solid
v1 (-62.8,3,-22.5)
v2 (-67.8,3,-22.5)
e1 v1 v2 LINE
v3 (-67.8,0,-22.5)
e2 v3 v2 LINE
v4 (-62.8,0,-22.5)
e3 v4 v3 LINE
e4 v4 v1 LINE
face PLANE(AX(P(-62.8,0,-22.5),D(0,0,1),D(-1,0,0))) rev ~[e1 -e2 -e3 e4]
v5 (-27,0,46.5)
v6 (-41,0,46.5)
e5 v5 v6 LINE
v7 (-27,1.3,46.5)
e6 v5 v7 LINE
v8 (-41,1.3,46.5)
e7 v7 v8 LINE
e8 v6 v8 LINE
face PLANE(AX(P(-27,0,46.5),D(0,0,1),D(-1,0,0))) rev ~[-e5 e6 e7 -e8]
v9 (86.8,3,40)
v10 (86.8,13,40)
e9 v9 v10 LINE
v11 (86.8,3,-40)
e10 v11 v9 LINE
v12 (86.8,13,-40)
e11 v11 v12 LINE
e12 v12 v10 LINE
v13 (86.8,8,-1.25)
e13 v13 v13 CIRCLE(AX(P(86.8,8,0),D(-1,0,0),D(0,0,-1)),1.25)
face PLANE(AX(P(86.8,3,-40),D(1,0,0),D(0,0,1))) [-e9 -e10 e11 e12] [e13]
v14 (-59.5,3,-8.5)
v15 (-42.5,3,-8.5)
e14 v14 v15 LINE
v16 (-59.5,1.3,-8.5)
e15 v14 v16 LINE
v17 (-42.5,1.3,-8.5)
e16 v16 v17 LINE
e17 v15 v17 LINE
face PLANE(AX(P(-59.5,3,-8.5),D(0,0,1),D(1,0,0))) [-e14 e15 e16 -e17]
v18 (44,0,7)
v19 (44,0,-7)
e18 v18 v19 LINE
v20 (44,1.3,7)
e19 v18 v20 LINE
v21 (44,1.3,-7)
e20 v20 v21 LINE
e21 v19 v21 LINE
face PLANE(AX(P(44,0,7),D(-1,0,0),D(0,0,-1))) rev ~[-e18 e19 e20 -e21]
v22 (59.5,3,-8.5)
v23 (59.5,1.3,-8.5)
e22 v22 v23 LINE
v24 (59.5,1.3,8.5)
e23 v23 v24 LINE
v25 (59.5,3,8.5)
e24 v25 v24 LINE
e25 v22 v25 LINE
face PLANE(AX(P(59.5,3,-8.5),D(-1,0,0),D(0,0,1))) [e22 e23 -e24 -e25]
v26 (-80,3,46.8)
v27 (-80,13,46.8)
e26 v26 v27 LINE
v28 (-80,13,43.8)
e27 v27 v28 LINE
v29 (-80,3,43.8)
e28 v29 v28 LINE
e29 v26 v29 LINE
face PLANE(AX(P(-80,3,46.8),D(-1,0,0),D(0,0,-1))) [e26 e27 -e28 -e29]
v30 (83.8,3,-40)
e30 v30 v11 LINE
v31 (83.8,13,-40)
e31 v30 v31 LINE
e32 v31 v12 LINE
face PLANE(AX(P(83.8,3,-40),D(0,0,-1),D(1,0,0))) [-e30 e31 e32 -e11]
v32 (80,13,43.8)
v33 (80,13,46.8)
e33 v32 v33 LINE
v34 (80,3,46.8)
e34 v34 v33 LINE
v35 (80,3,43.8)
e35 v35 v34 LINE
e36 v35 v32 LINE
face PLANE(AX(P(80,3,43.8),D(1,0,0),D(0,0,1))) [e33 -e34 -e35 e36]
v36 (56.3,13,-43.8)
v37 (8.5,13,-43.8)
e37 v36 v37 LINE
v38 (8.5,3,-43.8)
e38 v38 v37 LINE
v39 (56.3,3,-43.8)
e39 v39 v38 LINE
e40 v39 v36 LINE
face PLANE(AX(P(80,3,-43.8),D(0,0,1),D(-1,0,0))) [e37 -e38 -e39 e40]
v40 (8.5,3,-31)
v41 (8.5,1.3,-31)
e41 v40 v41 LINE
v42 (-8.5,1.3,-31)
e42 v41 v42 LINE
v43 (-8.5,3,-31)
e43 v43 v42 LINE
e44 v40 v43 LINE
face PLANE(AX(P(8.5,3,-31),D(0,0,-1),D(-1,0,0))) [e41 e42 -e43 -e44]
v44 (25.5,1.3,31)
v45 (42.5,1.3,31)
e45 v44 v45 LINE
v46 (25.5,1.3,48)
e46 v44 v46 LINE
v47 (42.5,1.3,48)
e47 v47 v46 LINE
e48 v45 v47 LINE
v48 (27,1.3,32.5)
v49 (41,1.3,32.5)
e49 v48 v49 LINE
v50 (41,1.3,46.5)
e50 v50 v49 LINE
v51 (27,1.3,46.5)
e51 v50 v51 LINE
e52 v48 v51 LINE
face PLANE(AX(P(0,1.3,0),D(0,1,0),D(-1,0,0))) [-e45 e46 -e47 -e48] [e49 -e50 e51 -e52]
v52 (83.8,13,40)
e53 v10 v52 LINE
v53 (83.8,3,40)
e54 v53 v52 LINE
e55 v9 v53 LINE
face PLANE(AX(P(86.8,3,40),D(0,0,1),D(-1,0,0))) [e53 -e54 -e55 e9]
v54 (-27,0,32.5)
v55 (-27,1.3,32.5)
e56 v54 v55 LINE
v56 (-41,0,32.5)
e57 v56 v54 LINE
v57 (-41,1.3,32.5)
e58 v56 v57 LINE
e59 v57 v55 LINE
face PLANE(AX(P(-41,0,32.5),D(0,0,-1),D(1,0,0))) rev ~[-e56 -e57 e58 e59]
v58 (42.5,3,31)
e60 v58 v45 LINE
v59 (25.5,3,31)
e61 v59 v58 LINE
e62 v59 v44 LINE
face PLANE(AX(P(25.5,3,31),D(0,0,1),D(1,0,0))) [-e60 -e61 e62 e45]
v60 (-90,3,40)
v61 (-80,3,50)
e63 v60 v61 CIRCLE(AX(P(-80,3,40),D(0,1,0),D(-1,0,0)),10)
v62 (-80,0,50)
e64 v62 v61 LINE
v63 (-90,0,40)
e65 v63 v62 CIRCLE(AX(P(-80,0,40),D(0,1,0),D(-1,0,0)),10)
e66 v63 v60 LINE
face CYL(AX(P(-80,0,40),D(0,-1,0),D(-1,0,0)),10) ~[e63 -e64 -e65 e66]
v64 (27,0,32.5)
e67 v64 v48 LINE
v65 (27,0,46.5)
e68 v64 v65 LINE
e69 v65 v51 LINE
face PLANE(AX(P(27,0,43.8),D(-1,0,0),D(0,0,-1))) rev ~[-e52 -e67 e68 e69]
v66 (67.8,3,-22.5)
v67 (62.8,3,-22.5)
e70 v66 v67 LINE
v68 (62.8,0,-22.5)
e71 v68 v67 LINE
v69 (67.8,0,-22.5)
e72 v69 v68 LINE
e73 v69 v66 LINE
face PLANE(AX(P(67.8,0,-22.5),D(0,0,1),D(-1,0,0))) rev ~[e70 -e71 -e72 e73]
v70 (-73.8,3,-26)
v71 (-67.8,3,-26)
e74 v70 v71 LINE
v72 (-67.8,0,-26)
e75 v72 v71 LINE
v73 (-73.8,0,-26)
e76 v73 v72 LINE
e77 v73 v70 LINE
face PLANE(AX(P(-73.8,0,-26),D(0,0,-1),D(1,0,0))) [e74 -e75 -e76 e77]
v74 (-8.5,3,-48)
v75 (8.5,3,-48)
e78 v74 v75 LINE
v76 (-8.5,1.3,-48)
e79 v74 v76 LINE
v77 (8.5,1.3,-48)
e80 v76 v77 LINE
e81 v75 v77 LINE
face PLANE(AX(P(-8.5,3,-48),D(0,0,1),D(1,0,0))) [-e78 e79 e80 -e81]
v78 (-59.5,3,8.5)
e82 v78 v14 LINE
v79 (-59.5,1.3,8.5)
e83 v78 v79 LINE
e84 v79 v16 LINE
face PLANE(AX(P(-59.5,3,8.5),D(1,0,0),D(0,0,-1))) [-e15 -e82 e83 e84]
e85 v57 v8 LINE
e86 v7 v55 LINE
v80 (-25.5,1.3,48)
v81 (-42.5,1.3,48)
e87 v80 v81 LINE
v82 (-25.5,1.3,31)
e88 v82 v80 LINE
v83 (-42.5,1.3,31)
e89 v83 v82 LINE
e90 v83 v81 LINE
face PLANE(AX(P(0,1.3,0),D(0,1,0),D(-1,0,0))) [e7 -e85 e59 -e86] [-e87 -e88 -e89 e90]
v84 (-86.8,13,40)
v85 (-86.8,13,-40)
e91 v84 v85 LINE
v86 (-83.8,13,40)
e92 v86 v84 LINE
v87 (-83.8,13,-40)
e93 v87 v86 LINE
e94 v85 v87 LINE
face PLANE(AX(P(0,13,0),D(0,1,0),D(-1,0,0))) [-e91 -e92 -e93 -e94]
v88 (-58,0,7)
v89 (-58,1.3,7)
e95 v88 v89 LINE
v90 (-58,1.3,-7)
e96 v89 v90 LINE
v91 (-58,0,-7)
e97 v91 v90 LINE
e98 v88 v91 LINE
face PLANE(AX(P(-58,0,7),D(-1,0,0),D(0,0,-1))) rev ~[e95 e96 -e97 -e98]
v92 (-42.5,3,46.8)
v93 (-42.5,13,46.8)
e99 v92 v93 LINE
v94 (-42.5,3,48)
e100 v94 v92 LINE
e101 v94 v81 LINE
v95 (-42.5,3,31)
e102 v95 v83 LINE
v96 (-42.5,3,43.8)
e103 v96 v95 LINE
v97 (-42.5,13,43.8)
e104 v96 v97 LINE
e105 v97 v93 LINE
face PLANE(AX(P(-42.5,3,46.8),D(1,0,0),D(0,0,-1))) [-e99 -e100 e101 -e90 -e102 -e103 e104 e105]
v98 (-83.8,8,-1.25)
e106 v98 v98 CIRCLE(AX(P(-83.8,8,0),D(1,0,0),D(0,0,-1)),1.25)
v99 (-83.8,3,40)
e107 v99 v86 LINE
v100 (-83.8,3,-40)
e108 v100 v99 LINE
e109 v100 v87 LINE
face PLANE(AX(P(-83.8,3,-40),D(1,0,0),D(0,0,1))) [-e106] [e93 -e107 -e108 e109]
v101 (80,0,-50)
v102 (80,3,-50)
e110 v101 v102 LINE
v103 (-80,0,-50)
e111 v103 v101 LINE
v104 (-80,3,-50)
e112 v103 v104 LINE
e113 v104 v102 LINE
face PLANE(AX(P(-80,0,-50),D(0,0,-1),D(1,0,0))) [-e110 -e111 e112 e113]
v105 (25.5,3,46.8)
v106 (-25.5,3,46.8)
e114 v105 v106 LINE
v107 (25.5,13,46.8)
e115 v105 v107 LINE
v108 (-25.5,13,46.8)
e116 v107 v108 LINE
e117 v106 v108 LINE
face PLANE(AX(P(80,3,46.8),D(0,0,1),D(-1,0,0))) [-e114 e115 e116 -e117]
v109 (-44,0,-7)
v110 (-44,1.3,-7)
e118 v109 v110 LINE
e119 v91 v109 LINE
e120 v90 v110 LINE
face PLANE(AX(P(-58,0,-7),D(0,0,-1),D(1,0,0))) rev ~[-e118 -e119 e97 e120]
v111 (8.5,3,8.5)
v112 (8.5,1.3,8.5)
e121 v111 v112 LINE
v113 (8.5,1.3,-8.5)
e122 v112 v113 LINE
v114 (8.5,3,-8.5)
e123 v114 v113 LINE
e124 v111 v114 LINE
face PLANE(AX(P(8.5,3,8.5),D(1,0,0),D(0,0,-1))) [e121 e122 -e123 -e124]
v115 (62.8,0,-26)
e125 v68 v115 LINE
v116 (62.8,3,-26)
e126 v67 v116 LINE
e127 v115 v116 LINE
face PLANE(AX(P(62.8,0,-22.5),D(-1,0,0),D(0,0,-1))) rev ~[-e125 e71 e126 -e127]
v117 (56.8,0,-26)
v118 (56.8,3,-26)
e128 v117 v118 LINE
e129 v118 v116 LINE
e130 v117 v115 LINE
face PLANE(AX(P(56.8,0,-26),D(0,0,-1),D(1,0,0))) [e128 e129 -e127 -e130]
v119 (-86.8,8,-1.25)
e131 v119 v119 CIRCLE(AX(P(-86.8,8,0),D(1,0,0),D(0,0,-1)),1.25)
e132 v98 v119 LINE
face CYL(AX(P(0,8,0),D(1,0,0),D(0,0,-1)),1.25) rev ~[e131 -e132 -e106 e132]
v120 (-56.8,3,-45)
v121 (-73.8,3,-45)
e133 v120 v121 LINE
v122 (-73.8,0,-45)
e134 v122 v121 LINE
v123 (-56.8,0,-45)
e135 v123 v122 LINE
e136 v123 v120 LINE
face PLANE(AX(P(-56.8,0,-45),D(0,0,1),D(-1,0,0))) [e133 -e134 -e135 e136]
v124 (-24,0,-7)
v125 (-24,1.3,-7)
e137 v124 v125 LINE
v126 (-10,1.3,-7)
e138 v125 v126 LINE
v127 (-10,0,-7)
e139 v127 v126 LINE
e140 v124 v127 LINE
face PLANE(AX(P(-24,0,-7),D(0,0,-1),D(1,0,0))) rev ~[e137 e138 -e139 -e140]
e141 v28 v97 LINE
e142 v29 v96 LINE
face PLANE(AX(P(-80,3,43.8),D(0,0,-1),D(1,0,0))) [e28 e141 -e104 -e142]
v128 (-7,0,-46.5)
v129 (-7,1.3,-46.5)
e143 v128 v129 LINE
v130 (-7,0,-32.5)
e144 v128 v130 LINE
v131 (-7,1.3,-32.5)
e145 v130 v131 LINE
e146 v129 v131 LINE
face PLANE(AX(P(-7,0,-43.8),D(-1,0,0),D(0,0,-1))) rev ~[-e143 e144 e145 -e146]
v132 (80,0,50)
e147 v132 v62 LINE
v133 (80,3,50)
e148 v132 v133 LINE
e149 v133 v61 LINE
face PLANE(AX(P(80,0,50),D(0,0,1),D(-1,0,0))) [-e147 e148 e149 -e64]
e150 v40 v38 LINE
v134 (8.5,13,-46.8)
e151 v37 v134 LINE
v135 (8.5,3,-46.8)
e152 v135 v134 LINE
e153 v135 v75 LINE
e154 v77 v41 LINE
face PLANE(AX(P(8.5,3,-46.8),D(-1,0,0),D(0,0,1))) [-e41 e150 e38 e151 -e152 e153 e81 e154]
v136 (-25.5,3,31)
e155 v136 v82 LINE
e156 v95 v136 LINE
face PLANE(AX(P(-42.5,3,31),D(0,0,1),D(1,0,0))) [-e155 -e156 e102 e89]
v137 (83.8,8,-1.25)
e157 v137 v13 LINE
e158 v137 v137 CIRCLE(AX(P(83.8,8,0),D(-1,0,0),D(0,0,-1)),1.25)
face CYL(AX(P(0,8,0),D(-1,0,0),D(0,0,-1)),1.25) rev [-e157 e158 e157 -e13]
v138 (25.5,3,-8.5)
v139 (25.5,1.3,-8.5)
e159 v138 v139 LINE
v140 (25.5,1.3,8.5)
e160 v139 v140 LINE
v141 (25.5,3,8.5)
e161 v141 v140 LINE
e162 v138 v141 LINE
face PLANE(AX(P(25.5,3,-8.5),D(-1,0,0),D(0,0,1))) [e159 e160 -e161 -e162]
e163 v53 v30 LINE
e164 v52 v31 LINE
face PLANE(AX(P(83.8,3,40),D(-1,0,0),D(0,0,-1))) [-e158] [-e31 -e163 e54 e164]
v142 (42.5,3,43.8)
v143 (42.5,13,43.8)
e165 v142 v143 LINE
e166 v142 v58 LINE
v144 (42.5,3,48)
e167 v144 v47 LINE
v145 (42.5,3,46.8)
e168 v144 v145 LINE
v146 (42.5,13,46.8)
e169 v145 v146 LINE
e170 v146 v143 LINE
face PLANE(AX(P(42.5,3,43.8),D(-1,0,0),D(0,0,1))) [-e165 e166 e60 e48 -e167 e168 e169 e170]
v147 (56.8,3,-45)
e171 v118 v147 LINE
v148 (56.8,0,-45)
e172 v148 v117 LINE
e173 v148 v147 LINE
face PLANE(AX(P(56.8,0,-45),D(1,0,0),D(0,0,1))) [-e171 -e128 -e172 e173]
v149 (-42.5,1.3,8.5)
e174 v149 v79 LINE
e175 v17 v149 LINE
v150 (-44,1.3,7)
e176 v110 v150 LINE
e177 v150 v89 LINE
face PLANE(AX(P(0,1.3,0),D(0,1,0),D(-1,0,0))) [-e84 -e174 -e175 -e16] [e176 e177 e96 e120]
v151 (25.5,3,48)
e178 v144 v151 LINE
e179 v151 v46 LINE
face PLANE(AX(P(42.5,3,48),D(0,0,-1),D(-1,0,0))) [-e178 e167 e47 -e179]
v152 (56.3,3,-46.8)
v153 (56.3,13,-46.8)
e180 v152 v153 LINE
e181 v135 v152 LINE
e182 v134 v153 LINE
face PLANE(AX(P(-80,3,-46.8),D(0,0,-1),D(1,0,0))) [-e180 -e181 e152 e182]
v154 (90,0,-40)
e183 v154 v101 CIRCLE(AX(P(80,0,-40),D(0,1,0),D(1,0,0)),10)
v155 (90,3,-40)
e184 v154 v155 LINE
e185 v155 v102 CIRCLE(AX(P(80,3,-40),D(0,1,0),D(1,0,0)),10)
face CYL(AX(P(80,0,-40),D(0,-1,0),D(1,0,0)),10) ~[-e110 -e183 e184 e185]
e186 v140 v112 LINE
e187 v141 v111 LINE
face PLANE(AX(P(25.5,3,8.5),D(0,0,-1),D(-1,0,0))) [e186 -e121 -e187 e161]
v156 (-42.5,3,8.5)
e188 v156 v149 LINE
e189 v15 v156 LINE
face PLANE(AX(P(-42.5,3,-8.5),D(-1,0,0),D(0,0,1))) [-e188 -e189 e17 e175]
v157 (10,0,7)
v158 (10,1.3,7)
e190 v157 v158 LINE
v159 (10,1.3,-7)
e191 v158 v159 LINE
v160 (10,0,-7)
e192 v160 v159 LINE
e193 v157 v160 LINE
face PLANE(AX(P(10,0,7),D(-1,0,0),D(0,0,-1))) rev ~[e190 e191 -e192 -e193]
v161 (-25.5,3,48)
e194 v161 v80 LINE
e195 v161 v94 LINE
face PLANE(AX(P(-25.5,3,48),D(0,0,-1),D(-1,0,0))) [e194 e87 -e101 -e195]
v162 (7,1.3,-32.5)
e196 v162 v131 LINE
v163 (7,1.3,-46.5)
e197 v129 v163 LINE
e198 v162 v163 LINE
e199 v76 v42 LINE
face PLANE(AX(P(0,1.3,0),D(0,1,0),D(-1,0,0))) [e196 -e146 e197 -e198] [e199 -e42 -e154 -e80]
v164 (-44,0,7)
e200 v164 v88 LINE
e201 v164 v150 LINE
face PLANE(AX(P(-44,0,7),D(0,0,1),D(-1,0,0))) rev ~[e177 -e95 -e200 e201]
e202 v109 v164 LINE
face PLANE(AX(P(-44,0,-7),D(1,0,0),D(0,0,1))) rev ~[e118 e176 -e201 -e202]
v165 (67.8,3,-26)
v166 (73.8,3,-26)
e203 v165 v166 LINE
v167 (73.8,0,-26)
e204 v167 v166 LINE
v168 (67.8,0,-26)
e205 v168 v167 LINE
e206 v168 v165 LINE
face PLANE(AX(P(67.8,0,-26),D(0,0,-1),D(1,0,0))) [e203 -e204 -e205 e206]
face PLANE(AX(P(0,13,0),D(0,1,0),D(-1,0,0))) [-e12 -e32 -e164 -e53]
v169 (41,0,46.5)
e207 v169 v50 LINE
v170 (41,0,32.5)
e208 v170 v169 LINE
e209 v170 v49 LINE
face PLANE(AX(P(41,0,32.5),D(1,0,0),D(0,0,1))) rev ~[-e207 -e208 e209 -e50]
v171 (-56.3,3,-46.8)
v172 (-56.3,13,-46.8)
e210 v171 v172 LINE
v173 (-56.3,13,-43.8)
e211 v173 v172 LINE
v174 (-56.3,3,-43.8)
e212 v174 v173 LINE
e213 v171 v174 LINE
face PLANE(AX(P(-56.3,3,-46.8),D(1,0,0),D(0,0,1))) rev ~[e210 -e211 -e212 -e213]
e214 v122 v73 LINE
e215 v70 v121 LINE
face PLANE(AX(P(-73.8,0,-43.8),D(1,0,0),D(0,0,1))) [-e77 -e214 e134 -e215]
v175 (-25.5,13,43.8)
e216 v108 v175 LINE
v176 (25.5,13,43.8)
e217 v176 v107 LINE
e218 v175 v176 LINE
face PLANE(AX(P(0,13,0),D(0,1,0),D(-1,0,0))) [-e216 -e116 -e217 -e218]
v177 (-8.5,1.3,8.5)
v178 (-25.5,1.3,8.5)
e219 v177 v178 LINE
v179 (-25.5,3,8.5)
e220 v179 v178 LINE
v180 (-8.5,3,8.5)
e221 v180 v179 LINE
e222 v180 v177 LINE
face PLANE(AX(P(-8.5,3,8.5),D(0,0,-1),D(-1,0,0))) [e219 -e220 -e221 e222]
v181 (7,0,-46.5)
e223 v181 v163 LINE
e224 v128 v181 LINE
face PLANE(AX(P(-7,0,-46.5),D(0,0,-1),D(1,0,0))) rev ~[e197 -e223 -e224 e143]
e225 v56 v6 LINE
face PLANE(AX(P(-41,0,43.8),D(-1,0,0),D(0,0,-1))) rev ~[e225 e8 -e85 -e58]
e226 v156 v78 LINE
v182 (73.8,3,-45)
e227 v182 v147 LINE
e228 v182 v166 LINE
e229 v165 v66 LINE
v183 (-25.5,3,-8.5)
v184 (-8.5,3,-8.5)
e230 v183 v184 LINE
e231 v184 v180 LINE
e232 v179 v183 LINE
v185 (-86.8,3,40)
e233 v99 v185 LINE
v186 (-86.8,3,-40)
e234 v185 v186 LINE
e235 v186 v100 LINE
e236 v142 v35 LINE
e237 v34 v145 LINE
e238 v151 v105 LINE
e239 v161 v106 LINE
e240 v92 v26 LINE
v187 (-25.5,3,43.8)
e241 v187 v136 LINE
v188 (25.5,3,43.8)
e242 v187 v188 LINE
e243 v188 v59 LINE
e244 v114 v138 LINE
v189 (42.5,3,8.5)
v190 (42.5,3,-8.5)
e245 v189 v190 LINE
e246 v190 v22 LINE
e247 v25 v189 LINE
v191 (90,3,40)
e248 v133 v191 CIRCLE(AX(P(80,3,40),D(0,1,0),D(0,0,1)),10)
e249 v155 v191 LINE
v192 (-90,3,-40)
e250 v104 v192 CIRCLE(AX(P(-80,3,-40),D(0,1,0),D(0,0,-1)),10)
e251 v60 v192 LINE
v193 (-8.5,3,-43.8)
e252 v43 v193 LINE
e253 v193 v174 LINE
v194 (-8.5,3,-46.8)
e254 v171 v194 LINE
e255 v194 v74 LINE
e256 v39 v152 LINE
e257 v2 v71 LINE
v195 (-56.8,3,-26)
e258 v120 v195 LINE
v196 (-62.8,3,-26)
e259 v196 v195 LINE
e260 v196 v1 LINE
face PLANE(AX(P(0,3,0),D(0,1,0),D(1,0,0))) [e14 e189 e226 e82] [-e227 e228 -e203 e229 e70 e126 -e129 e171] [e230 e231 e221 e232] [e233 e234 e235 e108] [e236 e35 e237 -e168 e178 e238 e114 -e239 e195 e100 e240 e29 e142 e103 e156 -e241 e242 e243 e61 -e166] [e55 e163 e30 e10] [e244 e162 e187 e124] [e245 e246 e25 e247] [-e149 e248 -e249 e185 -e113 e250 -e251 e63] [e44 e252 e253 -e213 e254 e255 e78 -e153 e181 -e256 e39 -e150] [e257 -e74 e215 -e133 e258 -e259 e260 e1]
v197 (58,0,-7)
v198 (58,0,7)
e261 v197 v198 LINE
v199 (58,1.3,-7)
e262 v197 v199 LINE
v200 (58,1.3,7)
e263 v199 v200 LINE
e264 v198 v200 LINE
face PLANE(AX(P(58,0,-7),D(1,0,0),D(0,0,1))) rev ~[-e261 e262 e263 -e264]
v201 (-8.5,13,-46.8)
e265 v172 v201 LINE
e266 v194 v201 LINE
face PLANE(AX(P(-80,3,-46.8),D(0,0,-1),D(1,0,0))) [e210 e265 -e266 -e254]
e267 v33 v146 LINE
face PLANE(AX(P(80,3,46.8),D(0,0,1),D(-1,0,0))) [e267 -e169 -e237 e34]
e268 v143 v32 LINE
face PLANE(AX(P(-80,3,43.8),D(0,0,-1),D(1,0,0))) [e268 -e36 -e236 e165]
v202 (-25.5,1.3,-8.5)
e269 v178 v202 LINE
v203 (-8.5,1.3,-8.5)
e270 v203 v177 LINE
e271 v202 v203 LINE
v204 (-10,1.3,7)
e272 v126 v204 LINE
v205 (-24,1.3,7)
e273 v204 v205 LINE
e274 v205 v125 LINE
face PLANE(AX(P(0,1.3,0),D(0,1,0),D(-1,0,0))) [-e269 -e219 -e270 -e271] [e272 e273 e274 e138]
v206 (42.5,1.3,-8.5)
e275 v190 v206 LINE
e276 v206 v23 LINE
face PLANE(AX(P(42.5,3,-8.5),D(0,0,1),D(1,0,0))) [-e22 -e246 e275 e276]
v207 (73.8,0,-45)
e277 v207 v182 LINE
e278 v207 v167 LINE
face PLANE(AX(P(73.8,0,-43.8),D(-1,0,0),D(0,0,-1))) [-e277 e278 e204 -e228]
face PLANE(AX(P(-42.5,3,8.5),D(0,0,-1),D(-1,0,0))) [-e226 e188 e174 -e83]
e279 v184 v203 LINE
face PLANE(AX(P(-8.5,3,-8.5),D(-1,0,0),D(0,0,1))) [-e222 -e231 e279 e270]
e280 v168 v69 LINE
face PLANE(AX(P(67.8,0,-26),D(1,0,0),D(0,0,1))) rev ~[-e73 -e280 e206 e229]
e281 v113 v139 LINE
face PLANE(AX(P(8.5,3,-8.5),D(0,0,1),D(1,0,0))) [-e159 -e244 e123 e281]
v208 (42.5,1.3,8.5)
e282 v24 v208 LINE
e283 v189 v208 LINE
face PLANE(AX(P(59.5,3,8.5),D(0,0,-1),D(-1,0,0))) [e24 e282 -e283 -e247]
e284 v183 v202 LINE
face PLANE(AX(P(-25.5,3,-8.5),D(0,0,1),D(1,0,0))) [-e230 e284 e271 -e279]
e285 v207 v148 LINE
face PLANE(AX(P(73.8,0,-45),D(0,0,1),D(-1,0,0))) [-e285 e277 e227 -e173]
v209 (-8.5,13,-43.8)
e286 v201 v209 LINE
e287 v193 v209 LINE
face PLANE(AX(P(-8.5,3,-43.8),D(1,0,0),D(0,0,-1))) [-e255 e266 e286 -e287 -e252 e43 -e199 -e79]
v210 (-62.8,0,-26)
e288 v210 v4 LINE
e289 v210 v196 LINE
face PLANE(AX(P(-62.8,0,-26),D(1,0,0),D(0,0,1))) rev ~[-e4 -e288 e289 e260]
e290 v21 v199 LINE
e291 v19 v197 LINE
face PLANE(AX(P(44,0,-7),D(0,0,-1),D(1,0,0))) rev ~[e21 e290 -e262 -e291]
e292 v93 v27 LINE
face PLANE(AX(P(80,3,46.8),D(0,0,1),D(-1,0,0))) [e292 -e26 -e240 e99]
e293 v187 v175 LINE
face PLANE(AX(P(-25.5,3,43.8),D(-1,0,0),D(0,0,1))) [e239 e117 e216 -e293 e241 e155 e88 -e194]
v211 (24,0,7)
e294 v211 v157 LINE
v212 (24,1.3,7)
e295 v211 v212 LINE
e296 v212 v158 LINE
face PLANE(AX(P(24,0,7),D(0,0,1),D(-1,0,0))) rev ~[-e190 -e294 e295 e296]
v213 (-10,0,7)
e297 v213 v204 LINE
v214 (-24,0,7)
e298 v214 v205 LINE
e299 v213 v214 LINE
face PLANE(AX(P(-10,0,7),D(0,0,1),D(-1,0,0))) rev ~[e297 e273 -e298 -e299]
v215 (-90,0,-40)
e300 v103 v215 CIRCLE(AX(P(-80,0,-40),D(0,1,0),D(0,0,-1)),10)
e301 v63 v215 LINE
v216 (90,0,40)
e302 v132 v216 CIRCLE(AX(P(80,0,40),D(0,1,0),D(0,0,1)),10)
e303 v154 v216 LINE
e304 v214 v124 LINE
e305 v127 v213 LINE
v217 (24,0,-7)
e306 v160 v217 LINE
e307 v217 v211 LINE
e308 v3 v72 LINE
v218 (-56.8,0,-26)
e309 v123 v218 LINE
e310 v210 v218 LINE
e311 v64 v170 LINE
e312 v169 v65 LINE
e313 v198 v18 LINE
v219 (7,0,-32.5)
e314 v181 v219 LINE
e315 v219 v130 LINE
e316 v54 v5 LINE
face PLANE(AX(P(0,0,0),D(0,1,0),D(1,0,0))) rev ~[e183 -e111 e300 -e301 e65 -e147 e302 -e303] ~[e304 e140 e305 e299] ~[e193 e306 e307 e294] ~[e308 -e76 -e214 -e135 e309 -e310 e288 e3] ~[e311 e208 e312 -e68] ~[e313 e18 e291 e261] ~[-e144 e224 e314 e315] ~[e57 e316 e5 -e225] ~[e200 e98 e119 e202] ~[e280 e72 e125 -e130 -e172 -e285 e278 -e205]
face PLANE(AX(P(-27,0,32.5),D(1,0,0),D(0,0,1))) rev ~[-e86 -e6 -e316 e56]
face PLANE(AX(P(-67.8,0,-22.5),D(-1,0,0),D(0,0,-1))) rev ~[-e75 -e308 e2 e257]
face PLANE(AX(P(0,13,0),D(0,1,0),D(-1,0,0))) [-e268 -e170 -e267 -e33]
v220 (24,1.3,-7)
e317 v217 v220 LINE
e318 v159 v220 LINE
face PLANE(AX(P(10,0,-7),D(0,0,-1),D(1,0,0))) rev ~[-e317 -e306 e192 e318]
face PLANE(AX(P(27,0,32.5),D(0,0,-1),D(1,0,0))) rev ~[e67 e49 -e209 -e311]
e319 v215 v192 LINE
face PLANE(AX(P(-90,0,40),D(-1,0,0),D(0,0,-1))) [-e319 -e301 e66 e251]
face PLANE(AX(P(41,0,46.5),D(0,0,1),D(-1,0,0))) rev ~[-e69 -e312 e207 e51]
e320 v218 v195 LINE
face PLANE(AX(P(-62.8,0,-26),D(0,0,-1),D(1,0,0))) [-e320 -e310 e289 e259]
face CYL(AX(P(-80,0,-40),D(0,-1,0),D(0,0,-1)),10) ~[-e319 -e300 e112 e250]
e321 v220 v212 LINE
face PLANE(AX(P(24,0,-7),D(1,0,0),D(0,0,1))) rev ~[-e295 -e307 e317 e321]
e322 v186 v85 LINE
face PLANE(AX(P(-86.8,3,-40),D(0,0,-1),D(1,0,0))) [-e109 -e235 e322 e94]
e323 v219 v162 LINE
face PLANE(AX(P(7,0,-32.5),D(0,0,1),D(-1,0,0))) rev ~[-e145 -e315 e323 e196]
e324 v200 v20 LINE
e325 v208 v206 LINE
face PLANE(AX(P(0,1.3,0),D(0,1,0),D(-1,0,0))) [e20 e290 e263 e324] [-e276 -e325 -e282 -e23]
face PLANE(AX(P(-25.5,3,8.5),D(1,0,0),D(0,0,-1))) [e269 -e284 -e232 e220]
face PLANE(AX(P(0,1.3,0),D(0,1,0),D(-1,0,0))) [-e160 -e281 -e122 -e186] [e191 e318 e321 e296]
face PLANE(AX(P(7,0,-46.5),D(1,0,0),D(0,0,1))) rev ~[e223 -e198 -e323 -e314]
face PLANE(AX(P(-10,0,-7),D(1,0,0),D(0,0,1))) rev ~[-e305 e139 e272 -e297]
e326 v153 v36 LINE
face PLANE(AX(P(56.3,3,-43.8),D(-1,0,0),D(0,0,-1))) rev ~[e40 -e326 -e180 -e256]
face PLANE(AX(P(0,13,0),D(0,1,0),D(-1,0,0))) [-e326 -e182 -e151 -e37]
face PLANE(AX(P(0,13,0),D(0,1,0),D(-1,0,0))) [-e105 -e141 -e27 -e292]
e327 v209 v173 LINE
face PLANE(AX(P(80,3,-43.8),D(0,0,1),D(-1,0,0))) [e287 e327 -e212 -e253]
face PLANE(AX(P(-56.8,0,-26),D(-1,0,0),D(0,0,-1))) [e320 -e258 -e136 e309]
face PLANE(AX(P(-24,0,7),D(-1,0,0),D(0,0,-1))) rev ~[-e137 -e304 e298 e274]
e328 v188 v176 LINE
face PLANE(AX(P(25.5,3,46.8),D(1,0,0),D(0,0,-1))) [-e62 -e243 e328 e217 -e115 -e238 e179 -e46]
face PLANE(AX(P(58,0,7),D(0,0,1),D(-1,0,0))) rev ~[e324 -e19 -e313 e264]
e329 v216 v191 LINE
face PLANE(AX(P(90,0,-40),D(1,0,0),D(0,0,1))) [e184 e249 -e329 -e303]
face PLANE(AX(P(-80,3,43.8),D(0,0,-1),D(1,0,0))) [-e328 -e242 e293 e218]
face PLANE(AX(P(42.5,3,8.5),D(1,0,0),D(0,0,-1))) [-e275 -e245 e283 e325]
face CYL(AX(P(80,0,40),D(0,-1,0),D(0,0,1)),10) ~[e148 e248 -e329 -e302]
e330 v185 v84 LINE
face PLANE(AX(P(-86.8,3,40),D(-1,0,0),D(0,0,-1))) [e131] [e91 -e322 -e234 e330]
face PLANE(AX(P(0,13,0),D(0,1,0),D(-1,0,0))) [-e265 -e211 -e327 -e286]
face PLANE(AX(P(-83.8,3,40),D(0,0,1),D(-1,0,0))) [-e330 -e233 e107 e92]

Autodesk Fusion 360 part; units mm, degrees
sketch "Top" plane through (0, 0, 0) normal (0, 1, 0) x (1, 0, 0)
  line L0 (-80, 50) -> (80, 50)
  line L1 (90, 40) -> (90, -40)
  line L2 (80, -50) -> (-80, -50)
  line L3 (-90, -40) -> (-90, 40)
  line L4 (-90, 50) -> (90, -50) construction
  line L5 (90, 50) -> (-90, -50) construction
  arc A0 (-80, 50) -> (-90, 40) centre (-80, 40) ccw
  arc A1 (90, 40) -> (80, 50) centre (80, 40) ccw
  arc A2 (80, -50) -> (90, -40) centre (80, -40) ccw
  arc A3 (-90, -40) -> (-80, -50) centre (-80, -40) ccw
  dimension "d310" = 180
  dimension "d311" = 100
  dimension "d312" = 10
extrude "Top Extrusion" add sketch "Top" along normal blind 3
sketch "Tabs" plane through (0, 3, 0) normal (0, 1, 0) x (-1, 0, 0)
  arc A0 (80, -50) -> (90, -40) centre (80, -40) ccw
  line L0 (90, -40) -> (90, 40)
  arc A1 (90, 40) -> (80, 50) centre (80, 40) ccw
  line L1 (80, 50) -> (-80, 50)
  arc A2 (-80, 50) -> (-90, 40) centre (-80, 40) ccw
  line L2 (-90, 40) -> (-90, -40)
  arc A3 (-90, -40) -> (-80, -50) centre (-80, -40) ccw
  line L3 (-80, -50) -> (80, -50)
  line L4 (86.8, -40) -> (83.8, -40)
  line L5 (83.8, -40) -> (83.8, 40)
  line L6 (83.8, 40) -> (86.8, 40)
  line L7 (86.8, 40) -> (86.8, -40)
  line L8 (86.8, -40) -> (83.8, 40) construction
  line L9 (83.8, -40) -> (86.8, 40) construction
  line L10 (80, -46.8) -> (-80, -46.8)
  line L11 (-80, -46.8) -> (-80, -43.8)
  line L12 (-80, -43.8) -> (80, -43.8)
  line L13 (80, -43.8) -> (80, -46.8)
  line L14 (80, -46.8) -> (-80, -43.8) construction
  line L15 (-80, -46.8) -> (80, -43.8) construction
  line L16 (80, 43.8) -> (-80, 43.8)
  line L17 (-80, 43.8) -> (-80, 46.8)
  line L18 (-80, 46.8) -> (80, 46.8)
  line L19 (80, 46.8) -> (80, 43.8)
  line L20 (80, 43.8) -> (-80, 46.8) construction
  line L21 (-80, 43.8) -> (80, 46.8) construction
  line L22 (-83.8, -40) -> (-86.8, -40)
  line L23 (-86.8, -40) -> (-86.8, 40)
  line L24 (-86.8, 40) -> (-83.8, 40)
  line L25 (-83.8, 40) -> (-83.8, -40)
  line L26 (-83.8, -40) -> (-86.8, 40) construction
  line L27 (-86.8, -40) -> (-83.8, 40) construction
  point P0 (85.3, 0)
  point P1 (0, -45.3)
  point P2 (0, 45.3)
  point P3 (-85.3, 0)
  dimension "d315" = 3
  dimension "d316" = 10
  dimension "d317" = 10
  dimension "d318" = 3.2
  dimension "d319" = 3
  dimension "d320" = 10
  dimension "d321" = 10
  dimension "d322" = 3.2
  dimension "d324" = 3
  dimension "d325" = 10
  dimension "d326" = 10
  dimension "d327" = 3
  dimension "d329" = 10
  dimension "d330" = 10
  dimension "d333" = 3.2
  dimension "d334" = 3.2
extrude "Tabs Extrusion" add sketch "Tabs" along normal blind 10 contours L4 L5 L6 L7 | L10 L11 L12 L13 | L16 L17 L18 L19 | L22 L23 L24 L25
sketch "Switches" plane through (0, 3, 0) normal (0, 1, 0) x (-1, 0, 0)
  line L0 (86.8, 40) -> (86.8, -40)
  line L1 (86.8, -40) -> (83.8, -40)
  line L2 (83.8, -40) -> (83.8, 40)
  line L3 (83.8, 40) -> (86.8, 40)
  line L4 (80, -43.8) -> (80, -46.8)
  line L5 (80, -46.8) -> (-80, -46.8)
  line L6 (-80, -46.8) -> (-80, -43.8)
  line L7 (-80, -43.8) -> (80, -43.8)
  line L8 (80, 46.8) -> (80, 43.8)
  line L9 (80, 43.8) -> (-80, 43.8)
  line L10 (-80, 43.8) -> (-80, 46.8)
  line L11 (-80, 46.8) -> (80, 46.8)
  line L12 (-83.8, 40) -> (-83.8, -40)
  line L13 (-83.8, -40) -> (-86.8, -40)
  line L14 (-86.8, -40) -> (-86.8, 40)
  line L15 (-86.8, 40) -> (-83.8, 40)
  arc A0 (80, -50) -> (90, -40) centre (80, -40) ccw
  line L16 (90, -40) -> (90, 40)
  arc A1 (90, 40) -> (80, 50) centre (80, 40) ccw
  line L17 (80, 50) -> (-80, 50)
  arc A2 (-80, 50) -> (-90, 40) centre (-80, 40) ccw
  line L18 (-90, 40) -> (-90, -40)
  arc A3 (-90, -40) -> (-80, -50) centre (-80, -40) ccw
  line L19 (-80, -50) -> (80, -50)
  line L20 (-59.5, 8.5) -> (-42.5, 8.5)
  line L21 (-42.5, 8.5) -> (-42.5, -8.5)
  line L22 (-58, -7) -> (-58, 7)
  line L23 (-42.5, -8.5) -> (-59.5, -8.5)
  line L24 (-44, 7) -> (-44, -7)
  line L25 (-58, 7) -> (-44, 7)
  line L26 (-44, -7) -> (-58, 7) construction
  line L27 (-59.5, -8.5) -> (-59.5, 8.5)
  line L28 (-59.5, -8.5) -> (-42.5, 8.5) construction
  line L29 (-58, -7) -> (-44, 7) construction
  line L30 (-42.5, -8.5) -> (-59.5, 8.5) construction
  line L31 (-44, -7) -> (-58, -7)
  line L32 (24, 7) -> (24, -7)
  line L33 (8.5, -8.5) -> (8.5, 8.5)
  line L34 (25.5, -8.5) -> (8.5, 8.5) construction
  line L35 (10, 7) -> (24, 7)
  line L36 (24, -7) -> (10, 7) construction
  line L37 (8.5, -8.5) -> (25.5, 8.5) construction
  line L38 (10, -7) -> (24, 7) construction
  line L39 (24, -7) -> (10, -7)
  line L40 (25.5, 8.5) -> (25.5, -8.5)
  line L41 (10, -7) -> (10, 7)
  line L42 (25.5, -8.5) -> (8.5, -8.5)
  line L43 (8.5, 8.5) -> (25.5, 8.5)
  line L44 (-27, 32.5) -> (-41, 46.5) construction
  line L45 (-41, 46.5) -> (-27, 46.5)
  line L46 (-25.5, 31) -> (-42.5, 31)
  line L47 (-42.5, 48) -> (-25.5, 48)
  line L48 (-41, 32.5) -> (-41, 46.5)
  line L49 (-25.5, 48) -> (-25.5, 31)
  line L50 (-42.5, 31) -> (-42.5, 48)
  line L51 (-25.5, 31) -> (-42.5, 48) construction
  line L52 (-27, 32.5) -> (-41, 32.5)
  line L53 (-41, 32.5) -> (-27, 46.5) construction
  line L54 (-42.5, 31) -> (-25.5, 48) construction
  line L55 (-27, 46.5) -> (-27, 32.5)
  line L56 (25.5, 31) -> (42.5, 48) construction
  line L57 (27, 46.5) -> (41, 46.5)
  line L58 (42.5, 48) -> (42.5, 31)
  line L59 (27, 32.5) -> (41, 46.5) construction
  line L60 (41, 32.5) -> (27, 32.5)
  line L61 (25.5, 31) -> (25.5, 48)
  line L62 (41, 46.5) -> (41, 32.5)
  line L63 (25.5, 48) -> (42.5, 48)
  line L64 (42.5, 31) -> (25.5, 48) construction
  line L65 (42.5, 31) -> (25.5, 31)
  line L66 (27, 32.5) -> (27, 46.5)
  line L67 (41, 32.5) -> (27, 46.5) construction
  line L68 (-8.5, -48) -> (-8.5, -31)
  line L69 (-7, -46.5) -> (-7, -32.5)
  line L70 (7, -32.5) -> (7, -46.5)
  line L71 (-7, -46.5) -> (7, -32.5) construction
  line L72 (8.5, -31) -> (8.5, -48)
  line L73 (8.5, -48) -> (-8.5, -48)
  line L74 (7, -46.5) -> (-7, -32.5) construction
  line L75 (8.5, -48) -> (-8.5, -31) construction
  line L76 (-8.5, -48) -> (8.5, -31) construction
  line L77 (-8.5, -31) -> (8.5, -31)
  line L78 (7, -46.5) -> (-7, -46.5)
  line L79 (-7, -32.5) -> (7, -32.5)
  line L80 (42.5, -8.5) -> (42.5, 8.5)
  line L81 (44, 7) -> (58, 7)
  line L82 (42.5, 8.5) -> (59.5, 8.5)
  line L83 (59.5, -8.5) -> (42.5, -8.5)
  line L84 (58, -7) -> (44, -7)
  line L85 (58, 7) -> (58, -7)
  line L86 (42.5, -8.5) -> (59.5, 8.5) construction
  line L87 (59.5, -8.5) -> (42.5, 8.5) construction
  line L88 (44, -7) -> (44, 7)
  line L89 (44, -7) -> (58, 7) construction
  line L90 (58, -7) -> (44, 7) construction
  line L91 (59.5, 8.5) -> (59.5, -8.5)
  line L92 (-25.5, 8.5) -> (-8.5, 8.5)
  line L93 (-25.5, -8.5) -> (-8.5, 8.5) construction
  line L94 (-25.5, -8.5) -> (-25.5, 8.5)
  line L95 (-10, 7) -> (-10, -7)
  line L96 (-10, -7) -> (-24, -7)
  line L97 (-8.5, -8.5) -> (-25.5, 8.5) construction
  line L98 (-24, -7) -> (-10, 7) construction
  line L99 (-8.5, -8.5) -> (-25.5, -8.5)
  line L100 (-24, -7) -> (-24, 7)
  line L101 (-10, -7) -> (-24, 7) construction
  line L102 (-8.5, 8.5) -> (-8.5, -8.5)
  line L103 (-24, 7) -> (-10, 7)
  line L104 (80, 50) -> (-80, 50)
  point P0 (-51, 0)
  point P1 (17, 0)
  point P2 (-34, 39.5)
  point P3 (34, 39.5)
  point P4 (0, -39.5)
  point P5 (51, 0)
  point P6 (-17, 0)
  dimension "d345" = 14
  dimension "d346" = 14
  dimension "d347" = 1.5
  dimension "d348" = 1.5
  dimension "d349" = 1.5
  dimension "d350" = 1.5
  dimension "d363" = 14
  dimension "d364" = 14
  dimension "d365" = 1.5
  dimension "d366" = 1.5
  dimension "d367" = 1.5
  dimension "d368" = 1.5
  dimension "d369" = 14
  dimension "d370" = 14
  dimension "d371" = 1.5
  dimension "d372" = 1.5
  dimension "d373" = 1.5
  dimension "d374" = 1.5
  dimension "d375" = 14
  dimension "d376" = 14
  dimension "d377" = 1.5
  dimension "d378" = 1.5
  dimension "d379" = 1.5
  dimension "d380" = 1.5
  dimension "d381" = 14
  dimension "d382" = 14
  dimension "d383" = 1.5
  dimension "d384" = 1.5
  dimension "d385" = 1.5
  dimension "d386" = 1.5
  dimension "d387" = 14
  dimension "d388" = 14
  dimension "d389" = 1.5
  dimension "d390" = 1.5
  dimension "d391" = 1.5
  dimension "d392" = 1.5
  dimension "d393" = 14
  dimension "d394" = 14
  dimension "d395" = 1.5
  dimension "d396" = 1.5
  dimension "d397" = 1.5
  dimension "d398" = 1.5
  dimension "d406" = 34
  dimension "d407" = 34
  dimension "d408" = 34
  dimension "d409" = 17
  dimension "d445" = 2
  dimension "d446" = 2
  dimension "d447" = 2
  dimension "d460" = 17
  dimension "d461" = 17
extrude "Switches Extrusion" cut sketch "Switches" against normal blind 1.7 contours L5 L7 L68 L69 L70 L72 L78 | L7 L68 L69 L70 L72 L77 L79 | L5 L68 L72 L73 | L9 L11 L57 L58 L61 L62 L66 | L11 L58 L61 L63 | L9 L58 L60 L61 L62 L65 L66 | L9 L11 L45 L48 L49 L50 L55 | L11 L47 L49 L50 | L9 L46 L48 L49 L50 L52 L55 | L20 L21 L23 L27 | L33 L40 L42 L43 | L80 L82 L83 L91 | L92 L94 L99 L102
extrude "Switches Hole Extrusion" cut sketch "Switches" along normal blind 3 from surface at -3 contours L7 L69 L70 L78 | L7 L69 L70 L79 | L9 L60 L62 L66 | L9 L57 L62 L66 | L9 L48 L52 L55 | L9 L45 L48 L55 | L22 L24 L25 L31 | L32 L35 L39 L41 | L81 L84 L85 L88 | L95 L96 L100 L103
sketch "Tab Holes" plane through (0, 0, 0) normal (1, 0, 0) x (0, 0, -1)
  circle A0 centre (0, 8) radius 1.25
  line L0 (-40, 3) -> (40, 3)
  dimension "d418" = 2.5
  dimension "d419" = 5
extrude "Tab Holes Extrusion" cut sketch "Tab Holes" along normal through all and the other way through all
sketch "Encoders" plane through (0, 3, 0) normal (0, 1, 0) x (-1, 0, 0)
  line L0 (73.8, -26) -> (56.8, -26)
  line L1 (56.8, -26) -> (56.8, -45)
  line L2 (56.8, -45) -> (73.8, -45)
  line L3 (73.8, -45) -> (73.8, -26)
  line L4 (73.8, -26) -> (56.8, -45) construction
  line L5 (56.8, -26) -> (73.8, -45) construction
  line L6 (67.8, -26) -> (62.8, -26)
  line L7 (62.8, -26) -> (62.8, -22.5)
  line L8 (62.8, -22.5) -> (67.8, -22.5)
  line L9 (67.8, -22.5) -> (67.8, -26)
  arc A0 (80, -50) -> (90, -40) centre (80, -40) ccw
  line L10 (90, -40) -> (90, 40)
  arc A1 (90, 40) -> (80, 50) centre (80, 40) ccw
  line L11 (80, 50) -> (-80, 50)
  arc A2 (-80, 50) -> (-90, 40) centre (-80, 40) ccw
  line L12 (-90, 40) -> (-90, -40)
  arc A3 (-90, -40) -> (-80, -50) centre (-80, -40) ccw
  line L13 (-80, -50) -> (80, -50)
  line L14 (-83.8, 40) -> (-83.8, -40)
  line L15 (-83.8, -40) -> (-86.8, -40)
  line L16 (-86.8, -40) -> (-86.8, 40)
  line L17 (-86.8, 40) -> (-83.8, 40)
  line L18 (80, 46.8) -> (80, 43.8)
  line L19 (80, 43.8) -> (42.5, 43.8)
  line L20 (-80, 43.8) -> (-80, 46.8)
  line L21 (-25.5, 46.8) -> (25.5, 46.8)
  line L22 (80, -43.8) -> (80, -46.8)
  line L23 (-8.5, -46.8) -> (-80, -46.8)
  line L24 (-80, -46.8) -> (-80, -43.8)
  line L25 (-80, -43.8) -> (-8.5, -43.8)
  line L26 (86.8, 40) -> (86.8, -40)
  line L27 (86.8, -40) -> (83.8, -40)
  line L28 (83.8, -40) -> (83.8, 40)
  line L29 (83.8, 40) -> (86.8, 40)
  line L30 (25.5, 48) -> (42.5, 48)
  line L31 (42.5, 48) -> (42.5, 46.8)
  line L32 (42.5, 31) -> (25.5, 31)
  line L33 (25.5, 46.8) -> (25.5, 48)
  line L34 (8.5, -48) -> (-8.5, -48)
  line L35 (-8.5, -48) -> (-8.5, -46.8)
  line L36 (-8.5, -31) -> (8.5, -31)
  line L37 (8.5, -31) -> (8.5, -43.8)
  line L38 (25.5, -8.5) -> (8.5, -8.5)
  line L39 (8.5, -8.5) -> (8.5, 8.5)
  line L40 (8.5, 8.5) -> (25.5, 8.5)
  line L41 (25.5, 8.5) -> (25.5, -8.5)
  line L42 (-25.5, 48) -> (-25.5, 46.8)
  line L43 (-25.5, 31) -> (-42.5, 31)
  line L44 (-42.5, 46.8) -> (-42.5, 48)
  line L45 (-42.5, 48) -> (-25.5, 48)
  line L46 (-25.5, -8.5) -> (-25.5, 8.5)
  line L47 (-25.5, 8.5) -> (-8.5, 8.5)
  line L48 (-8.5, 8.5) -> (-8.5, -8.5)
  line L49 (-8.5, -8.5) -> (-25.5, -8.5)
  line L50 (42.5, -8.5) -> (42.5, 8.5)
  line L51 (42.5, 8.5) -> (59.5, 8.5)
  line L52 (59.5, 8.5) -> (59.5, -8.5)
  line L53 (59.5, -8.5) -> (42.5, -8.5)
  line L54 (-42.5, 8.5) -> (-42.5, -8.5)
  line L55 (-42.5, -8.5) -> (-59.5, -8.5)
  line L56 (-59.5, -8.5) -> (-59.5, 8.5)
  line L57 (-59.5, 8.5) -> (-42.5, 8.5)
  line L58 (-56.8, -26) -> (-73.8, -26)
  line L59 (-67.8, -22.5) -> (-62.8, -22.5)
  line L60 (-73.8, -45) -> (-56.8, -45)
  line L61 (-67.8, -26) -> (-67.8, -22.5)
  line L62 (-73.8, -26) -> (-73.8, -45)
  line L63 (-62.8, -22.5) -> (-62.8, -26)
  line L64 (-56.8, -26) -> (-73.8, -45) construction
  line L65 (-73.8, -26) -> (-56.8, -45) construction
  line L66 (-56.8, -45) -> (-56.8, -26)
  line L67 (-62.8, -26) -> (-67.8, -26)
  line L68 (42.5, 46.8) -> (80, 46.8)
  line L69 (42.5, 43.8) -> (42.5, 31)
  line L70 (25.5, 31) -> (25.5, 43.8)
  line L71 (25.5, 43.8) -> (-25.5, 43.8)
  line L72 (-25.5, 43.8) -> (-25.5, 31)
  line L73 (-42.5, 31) -> (-42.5, 43.8)
  line L74 (-42.5, 43.8) -> (-80, 43.8)
  line L75 (-80, 46.8) -> (-42.5, 46.8)
  line L76 (-8.5, -43.8) -> (-8.5, -31)
  line L77 (8.5, -43.8) -> (80, -43.8)
  line L78 (80, -46.8) -> (8.5, -46.8)
  line L79 (8.5, -46.8) -> (8.5, -48)
  line L80 (80, -46.8) -> (56.3, -46.8)
  line L81 (56.3, -46.8) -> (56.3, -43.8)
  line L82 (56.3, -43.8) -> (80, -43.8)
  line L83 (80, -43.8) -> (80, -46.8)
  line L84 (-80, -43.8) -> (-56.3, -43.8)
  line L85 (-56.3, -43.8) -> (-56.3, -46.8)
  line L86 (-56.3, -46.8) -> (-80, -46.8)
  line L87 (-80, -46.8) -> (-80, -43.8)
  point P0 (65.3, -35.5)
  point P1 (-65.3, -35.5)
  dimension "d421" = 17
  dimension "d422" = 19
  dimension "d423" = 5
  dimension "d424" = 3.5
  dimension "d425" = 2.5
  dimension "d431" = 17
  dimension "d432" = 19
  dimension "d433" = 5
  dimension "d434" = 3.5
  dimension "d435" = 2.5
  dimension "d437" = 10
  dimension "d439" = 10
  dimension "d443" = 5
  dimension "d444" = 5
  dimension "d462" = 23.7
  dimension "d465" = 1.8
  dimension "d467" = 3
  dimension "d469" = 23.7
  dimension "d470" = 3
  dimension "d471" = 0.5
  dimension "d473" = 0.5
extrude "Right Encoder Extrusion" cut sketch "Encoders" along normal blind 3 from surface at -3 contours L0 L1 L3 L6 L77 L82 | L0 L6 L7 L8 L9 | L1 L2 L3 L77 L82
extrude "Left Encoder Extrusion" cut sketch "Encoders" along normal blind 3 from surface at -3 contours L25 L60 L62 L66 L84 | L25 L58 L62 L66 L67 L84 | L58 L59 L61 L63 L67
extrude "Left Switch Tab Extrusion" cut sketch "Switches" along normal through all contours L9 L11 L45 L48 L49 L50 L55 | L9 L45 L48 L55
extrude "Right Switch Tab Extrusion" cut sketch "Switches" along normal through all contours L9 L11 L57 L58 L61 L62 L66 | L9 L57 L62 L66
extrude "Top Switch Tab Extrusion" cut sketch "Switches" along normal through all contours L5 L7 L68 L69 L70 L72 L78 | L7 L69 L70 L78
extrude "Encoders Tab Extrusion" cut sketch "Encoders" along normal through all contours L1 L2 L3 L22 L77 L78 L80 L81 L82 L83 | L1 L2 L3 L77 L82 | L23 L24 L25 L60 L62 L66 L84 L85 L86 L87 | L25 L60 L62 L66 L84
equation "d409 = ( 34 / 2 ) * 1 mm"
equation "d413 = -( 3 mm - 1.3 mm )"
equation "d419 = ( 10 / 2 ) * 1 mm"
equation "d425 = ( 5 / 2 ) * 1 mm"
equation "d435 = ( 5 / 2 ) * 1 mm"
equation "d460 = ( 34 / 2 ) * 1 mm"
equation "d461 = ( 34 / 2 ) * 1 mm"
